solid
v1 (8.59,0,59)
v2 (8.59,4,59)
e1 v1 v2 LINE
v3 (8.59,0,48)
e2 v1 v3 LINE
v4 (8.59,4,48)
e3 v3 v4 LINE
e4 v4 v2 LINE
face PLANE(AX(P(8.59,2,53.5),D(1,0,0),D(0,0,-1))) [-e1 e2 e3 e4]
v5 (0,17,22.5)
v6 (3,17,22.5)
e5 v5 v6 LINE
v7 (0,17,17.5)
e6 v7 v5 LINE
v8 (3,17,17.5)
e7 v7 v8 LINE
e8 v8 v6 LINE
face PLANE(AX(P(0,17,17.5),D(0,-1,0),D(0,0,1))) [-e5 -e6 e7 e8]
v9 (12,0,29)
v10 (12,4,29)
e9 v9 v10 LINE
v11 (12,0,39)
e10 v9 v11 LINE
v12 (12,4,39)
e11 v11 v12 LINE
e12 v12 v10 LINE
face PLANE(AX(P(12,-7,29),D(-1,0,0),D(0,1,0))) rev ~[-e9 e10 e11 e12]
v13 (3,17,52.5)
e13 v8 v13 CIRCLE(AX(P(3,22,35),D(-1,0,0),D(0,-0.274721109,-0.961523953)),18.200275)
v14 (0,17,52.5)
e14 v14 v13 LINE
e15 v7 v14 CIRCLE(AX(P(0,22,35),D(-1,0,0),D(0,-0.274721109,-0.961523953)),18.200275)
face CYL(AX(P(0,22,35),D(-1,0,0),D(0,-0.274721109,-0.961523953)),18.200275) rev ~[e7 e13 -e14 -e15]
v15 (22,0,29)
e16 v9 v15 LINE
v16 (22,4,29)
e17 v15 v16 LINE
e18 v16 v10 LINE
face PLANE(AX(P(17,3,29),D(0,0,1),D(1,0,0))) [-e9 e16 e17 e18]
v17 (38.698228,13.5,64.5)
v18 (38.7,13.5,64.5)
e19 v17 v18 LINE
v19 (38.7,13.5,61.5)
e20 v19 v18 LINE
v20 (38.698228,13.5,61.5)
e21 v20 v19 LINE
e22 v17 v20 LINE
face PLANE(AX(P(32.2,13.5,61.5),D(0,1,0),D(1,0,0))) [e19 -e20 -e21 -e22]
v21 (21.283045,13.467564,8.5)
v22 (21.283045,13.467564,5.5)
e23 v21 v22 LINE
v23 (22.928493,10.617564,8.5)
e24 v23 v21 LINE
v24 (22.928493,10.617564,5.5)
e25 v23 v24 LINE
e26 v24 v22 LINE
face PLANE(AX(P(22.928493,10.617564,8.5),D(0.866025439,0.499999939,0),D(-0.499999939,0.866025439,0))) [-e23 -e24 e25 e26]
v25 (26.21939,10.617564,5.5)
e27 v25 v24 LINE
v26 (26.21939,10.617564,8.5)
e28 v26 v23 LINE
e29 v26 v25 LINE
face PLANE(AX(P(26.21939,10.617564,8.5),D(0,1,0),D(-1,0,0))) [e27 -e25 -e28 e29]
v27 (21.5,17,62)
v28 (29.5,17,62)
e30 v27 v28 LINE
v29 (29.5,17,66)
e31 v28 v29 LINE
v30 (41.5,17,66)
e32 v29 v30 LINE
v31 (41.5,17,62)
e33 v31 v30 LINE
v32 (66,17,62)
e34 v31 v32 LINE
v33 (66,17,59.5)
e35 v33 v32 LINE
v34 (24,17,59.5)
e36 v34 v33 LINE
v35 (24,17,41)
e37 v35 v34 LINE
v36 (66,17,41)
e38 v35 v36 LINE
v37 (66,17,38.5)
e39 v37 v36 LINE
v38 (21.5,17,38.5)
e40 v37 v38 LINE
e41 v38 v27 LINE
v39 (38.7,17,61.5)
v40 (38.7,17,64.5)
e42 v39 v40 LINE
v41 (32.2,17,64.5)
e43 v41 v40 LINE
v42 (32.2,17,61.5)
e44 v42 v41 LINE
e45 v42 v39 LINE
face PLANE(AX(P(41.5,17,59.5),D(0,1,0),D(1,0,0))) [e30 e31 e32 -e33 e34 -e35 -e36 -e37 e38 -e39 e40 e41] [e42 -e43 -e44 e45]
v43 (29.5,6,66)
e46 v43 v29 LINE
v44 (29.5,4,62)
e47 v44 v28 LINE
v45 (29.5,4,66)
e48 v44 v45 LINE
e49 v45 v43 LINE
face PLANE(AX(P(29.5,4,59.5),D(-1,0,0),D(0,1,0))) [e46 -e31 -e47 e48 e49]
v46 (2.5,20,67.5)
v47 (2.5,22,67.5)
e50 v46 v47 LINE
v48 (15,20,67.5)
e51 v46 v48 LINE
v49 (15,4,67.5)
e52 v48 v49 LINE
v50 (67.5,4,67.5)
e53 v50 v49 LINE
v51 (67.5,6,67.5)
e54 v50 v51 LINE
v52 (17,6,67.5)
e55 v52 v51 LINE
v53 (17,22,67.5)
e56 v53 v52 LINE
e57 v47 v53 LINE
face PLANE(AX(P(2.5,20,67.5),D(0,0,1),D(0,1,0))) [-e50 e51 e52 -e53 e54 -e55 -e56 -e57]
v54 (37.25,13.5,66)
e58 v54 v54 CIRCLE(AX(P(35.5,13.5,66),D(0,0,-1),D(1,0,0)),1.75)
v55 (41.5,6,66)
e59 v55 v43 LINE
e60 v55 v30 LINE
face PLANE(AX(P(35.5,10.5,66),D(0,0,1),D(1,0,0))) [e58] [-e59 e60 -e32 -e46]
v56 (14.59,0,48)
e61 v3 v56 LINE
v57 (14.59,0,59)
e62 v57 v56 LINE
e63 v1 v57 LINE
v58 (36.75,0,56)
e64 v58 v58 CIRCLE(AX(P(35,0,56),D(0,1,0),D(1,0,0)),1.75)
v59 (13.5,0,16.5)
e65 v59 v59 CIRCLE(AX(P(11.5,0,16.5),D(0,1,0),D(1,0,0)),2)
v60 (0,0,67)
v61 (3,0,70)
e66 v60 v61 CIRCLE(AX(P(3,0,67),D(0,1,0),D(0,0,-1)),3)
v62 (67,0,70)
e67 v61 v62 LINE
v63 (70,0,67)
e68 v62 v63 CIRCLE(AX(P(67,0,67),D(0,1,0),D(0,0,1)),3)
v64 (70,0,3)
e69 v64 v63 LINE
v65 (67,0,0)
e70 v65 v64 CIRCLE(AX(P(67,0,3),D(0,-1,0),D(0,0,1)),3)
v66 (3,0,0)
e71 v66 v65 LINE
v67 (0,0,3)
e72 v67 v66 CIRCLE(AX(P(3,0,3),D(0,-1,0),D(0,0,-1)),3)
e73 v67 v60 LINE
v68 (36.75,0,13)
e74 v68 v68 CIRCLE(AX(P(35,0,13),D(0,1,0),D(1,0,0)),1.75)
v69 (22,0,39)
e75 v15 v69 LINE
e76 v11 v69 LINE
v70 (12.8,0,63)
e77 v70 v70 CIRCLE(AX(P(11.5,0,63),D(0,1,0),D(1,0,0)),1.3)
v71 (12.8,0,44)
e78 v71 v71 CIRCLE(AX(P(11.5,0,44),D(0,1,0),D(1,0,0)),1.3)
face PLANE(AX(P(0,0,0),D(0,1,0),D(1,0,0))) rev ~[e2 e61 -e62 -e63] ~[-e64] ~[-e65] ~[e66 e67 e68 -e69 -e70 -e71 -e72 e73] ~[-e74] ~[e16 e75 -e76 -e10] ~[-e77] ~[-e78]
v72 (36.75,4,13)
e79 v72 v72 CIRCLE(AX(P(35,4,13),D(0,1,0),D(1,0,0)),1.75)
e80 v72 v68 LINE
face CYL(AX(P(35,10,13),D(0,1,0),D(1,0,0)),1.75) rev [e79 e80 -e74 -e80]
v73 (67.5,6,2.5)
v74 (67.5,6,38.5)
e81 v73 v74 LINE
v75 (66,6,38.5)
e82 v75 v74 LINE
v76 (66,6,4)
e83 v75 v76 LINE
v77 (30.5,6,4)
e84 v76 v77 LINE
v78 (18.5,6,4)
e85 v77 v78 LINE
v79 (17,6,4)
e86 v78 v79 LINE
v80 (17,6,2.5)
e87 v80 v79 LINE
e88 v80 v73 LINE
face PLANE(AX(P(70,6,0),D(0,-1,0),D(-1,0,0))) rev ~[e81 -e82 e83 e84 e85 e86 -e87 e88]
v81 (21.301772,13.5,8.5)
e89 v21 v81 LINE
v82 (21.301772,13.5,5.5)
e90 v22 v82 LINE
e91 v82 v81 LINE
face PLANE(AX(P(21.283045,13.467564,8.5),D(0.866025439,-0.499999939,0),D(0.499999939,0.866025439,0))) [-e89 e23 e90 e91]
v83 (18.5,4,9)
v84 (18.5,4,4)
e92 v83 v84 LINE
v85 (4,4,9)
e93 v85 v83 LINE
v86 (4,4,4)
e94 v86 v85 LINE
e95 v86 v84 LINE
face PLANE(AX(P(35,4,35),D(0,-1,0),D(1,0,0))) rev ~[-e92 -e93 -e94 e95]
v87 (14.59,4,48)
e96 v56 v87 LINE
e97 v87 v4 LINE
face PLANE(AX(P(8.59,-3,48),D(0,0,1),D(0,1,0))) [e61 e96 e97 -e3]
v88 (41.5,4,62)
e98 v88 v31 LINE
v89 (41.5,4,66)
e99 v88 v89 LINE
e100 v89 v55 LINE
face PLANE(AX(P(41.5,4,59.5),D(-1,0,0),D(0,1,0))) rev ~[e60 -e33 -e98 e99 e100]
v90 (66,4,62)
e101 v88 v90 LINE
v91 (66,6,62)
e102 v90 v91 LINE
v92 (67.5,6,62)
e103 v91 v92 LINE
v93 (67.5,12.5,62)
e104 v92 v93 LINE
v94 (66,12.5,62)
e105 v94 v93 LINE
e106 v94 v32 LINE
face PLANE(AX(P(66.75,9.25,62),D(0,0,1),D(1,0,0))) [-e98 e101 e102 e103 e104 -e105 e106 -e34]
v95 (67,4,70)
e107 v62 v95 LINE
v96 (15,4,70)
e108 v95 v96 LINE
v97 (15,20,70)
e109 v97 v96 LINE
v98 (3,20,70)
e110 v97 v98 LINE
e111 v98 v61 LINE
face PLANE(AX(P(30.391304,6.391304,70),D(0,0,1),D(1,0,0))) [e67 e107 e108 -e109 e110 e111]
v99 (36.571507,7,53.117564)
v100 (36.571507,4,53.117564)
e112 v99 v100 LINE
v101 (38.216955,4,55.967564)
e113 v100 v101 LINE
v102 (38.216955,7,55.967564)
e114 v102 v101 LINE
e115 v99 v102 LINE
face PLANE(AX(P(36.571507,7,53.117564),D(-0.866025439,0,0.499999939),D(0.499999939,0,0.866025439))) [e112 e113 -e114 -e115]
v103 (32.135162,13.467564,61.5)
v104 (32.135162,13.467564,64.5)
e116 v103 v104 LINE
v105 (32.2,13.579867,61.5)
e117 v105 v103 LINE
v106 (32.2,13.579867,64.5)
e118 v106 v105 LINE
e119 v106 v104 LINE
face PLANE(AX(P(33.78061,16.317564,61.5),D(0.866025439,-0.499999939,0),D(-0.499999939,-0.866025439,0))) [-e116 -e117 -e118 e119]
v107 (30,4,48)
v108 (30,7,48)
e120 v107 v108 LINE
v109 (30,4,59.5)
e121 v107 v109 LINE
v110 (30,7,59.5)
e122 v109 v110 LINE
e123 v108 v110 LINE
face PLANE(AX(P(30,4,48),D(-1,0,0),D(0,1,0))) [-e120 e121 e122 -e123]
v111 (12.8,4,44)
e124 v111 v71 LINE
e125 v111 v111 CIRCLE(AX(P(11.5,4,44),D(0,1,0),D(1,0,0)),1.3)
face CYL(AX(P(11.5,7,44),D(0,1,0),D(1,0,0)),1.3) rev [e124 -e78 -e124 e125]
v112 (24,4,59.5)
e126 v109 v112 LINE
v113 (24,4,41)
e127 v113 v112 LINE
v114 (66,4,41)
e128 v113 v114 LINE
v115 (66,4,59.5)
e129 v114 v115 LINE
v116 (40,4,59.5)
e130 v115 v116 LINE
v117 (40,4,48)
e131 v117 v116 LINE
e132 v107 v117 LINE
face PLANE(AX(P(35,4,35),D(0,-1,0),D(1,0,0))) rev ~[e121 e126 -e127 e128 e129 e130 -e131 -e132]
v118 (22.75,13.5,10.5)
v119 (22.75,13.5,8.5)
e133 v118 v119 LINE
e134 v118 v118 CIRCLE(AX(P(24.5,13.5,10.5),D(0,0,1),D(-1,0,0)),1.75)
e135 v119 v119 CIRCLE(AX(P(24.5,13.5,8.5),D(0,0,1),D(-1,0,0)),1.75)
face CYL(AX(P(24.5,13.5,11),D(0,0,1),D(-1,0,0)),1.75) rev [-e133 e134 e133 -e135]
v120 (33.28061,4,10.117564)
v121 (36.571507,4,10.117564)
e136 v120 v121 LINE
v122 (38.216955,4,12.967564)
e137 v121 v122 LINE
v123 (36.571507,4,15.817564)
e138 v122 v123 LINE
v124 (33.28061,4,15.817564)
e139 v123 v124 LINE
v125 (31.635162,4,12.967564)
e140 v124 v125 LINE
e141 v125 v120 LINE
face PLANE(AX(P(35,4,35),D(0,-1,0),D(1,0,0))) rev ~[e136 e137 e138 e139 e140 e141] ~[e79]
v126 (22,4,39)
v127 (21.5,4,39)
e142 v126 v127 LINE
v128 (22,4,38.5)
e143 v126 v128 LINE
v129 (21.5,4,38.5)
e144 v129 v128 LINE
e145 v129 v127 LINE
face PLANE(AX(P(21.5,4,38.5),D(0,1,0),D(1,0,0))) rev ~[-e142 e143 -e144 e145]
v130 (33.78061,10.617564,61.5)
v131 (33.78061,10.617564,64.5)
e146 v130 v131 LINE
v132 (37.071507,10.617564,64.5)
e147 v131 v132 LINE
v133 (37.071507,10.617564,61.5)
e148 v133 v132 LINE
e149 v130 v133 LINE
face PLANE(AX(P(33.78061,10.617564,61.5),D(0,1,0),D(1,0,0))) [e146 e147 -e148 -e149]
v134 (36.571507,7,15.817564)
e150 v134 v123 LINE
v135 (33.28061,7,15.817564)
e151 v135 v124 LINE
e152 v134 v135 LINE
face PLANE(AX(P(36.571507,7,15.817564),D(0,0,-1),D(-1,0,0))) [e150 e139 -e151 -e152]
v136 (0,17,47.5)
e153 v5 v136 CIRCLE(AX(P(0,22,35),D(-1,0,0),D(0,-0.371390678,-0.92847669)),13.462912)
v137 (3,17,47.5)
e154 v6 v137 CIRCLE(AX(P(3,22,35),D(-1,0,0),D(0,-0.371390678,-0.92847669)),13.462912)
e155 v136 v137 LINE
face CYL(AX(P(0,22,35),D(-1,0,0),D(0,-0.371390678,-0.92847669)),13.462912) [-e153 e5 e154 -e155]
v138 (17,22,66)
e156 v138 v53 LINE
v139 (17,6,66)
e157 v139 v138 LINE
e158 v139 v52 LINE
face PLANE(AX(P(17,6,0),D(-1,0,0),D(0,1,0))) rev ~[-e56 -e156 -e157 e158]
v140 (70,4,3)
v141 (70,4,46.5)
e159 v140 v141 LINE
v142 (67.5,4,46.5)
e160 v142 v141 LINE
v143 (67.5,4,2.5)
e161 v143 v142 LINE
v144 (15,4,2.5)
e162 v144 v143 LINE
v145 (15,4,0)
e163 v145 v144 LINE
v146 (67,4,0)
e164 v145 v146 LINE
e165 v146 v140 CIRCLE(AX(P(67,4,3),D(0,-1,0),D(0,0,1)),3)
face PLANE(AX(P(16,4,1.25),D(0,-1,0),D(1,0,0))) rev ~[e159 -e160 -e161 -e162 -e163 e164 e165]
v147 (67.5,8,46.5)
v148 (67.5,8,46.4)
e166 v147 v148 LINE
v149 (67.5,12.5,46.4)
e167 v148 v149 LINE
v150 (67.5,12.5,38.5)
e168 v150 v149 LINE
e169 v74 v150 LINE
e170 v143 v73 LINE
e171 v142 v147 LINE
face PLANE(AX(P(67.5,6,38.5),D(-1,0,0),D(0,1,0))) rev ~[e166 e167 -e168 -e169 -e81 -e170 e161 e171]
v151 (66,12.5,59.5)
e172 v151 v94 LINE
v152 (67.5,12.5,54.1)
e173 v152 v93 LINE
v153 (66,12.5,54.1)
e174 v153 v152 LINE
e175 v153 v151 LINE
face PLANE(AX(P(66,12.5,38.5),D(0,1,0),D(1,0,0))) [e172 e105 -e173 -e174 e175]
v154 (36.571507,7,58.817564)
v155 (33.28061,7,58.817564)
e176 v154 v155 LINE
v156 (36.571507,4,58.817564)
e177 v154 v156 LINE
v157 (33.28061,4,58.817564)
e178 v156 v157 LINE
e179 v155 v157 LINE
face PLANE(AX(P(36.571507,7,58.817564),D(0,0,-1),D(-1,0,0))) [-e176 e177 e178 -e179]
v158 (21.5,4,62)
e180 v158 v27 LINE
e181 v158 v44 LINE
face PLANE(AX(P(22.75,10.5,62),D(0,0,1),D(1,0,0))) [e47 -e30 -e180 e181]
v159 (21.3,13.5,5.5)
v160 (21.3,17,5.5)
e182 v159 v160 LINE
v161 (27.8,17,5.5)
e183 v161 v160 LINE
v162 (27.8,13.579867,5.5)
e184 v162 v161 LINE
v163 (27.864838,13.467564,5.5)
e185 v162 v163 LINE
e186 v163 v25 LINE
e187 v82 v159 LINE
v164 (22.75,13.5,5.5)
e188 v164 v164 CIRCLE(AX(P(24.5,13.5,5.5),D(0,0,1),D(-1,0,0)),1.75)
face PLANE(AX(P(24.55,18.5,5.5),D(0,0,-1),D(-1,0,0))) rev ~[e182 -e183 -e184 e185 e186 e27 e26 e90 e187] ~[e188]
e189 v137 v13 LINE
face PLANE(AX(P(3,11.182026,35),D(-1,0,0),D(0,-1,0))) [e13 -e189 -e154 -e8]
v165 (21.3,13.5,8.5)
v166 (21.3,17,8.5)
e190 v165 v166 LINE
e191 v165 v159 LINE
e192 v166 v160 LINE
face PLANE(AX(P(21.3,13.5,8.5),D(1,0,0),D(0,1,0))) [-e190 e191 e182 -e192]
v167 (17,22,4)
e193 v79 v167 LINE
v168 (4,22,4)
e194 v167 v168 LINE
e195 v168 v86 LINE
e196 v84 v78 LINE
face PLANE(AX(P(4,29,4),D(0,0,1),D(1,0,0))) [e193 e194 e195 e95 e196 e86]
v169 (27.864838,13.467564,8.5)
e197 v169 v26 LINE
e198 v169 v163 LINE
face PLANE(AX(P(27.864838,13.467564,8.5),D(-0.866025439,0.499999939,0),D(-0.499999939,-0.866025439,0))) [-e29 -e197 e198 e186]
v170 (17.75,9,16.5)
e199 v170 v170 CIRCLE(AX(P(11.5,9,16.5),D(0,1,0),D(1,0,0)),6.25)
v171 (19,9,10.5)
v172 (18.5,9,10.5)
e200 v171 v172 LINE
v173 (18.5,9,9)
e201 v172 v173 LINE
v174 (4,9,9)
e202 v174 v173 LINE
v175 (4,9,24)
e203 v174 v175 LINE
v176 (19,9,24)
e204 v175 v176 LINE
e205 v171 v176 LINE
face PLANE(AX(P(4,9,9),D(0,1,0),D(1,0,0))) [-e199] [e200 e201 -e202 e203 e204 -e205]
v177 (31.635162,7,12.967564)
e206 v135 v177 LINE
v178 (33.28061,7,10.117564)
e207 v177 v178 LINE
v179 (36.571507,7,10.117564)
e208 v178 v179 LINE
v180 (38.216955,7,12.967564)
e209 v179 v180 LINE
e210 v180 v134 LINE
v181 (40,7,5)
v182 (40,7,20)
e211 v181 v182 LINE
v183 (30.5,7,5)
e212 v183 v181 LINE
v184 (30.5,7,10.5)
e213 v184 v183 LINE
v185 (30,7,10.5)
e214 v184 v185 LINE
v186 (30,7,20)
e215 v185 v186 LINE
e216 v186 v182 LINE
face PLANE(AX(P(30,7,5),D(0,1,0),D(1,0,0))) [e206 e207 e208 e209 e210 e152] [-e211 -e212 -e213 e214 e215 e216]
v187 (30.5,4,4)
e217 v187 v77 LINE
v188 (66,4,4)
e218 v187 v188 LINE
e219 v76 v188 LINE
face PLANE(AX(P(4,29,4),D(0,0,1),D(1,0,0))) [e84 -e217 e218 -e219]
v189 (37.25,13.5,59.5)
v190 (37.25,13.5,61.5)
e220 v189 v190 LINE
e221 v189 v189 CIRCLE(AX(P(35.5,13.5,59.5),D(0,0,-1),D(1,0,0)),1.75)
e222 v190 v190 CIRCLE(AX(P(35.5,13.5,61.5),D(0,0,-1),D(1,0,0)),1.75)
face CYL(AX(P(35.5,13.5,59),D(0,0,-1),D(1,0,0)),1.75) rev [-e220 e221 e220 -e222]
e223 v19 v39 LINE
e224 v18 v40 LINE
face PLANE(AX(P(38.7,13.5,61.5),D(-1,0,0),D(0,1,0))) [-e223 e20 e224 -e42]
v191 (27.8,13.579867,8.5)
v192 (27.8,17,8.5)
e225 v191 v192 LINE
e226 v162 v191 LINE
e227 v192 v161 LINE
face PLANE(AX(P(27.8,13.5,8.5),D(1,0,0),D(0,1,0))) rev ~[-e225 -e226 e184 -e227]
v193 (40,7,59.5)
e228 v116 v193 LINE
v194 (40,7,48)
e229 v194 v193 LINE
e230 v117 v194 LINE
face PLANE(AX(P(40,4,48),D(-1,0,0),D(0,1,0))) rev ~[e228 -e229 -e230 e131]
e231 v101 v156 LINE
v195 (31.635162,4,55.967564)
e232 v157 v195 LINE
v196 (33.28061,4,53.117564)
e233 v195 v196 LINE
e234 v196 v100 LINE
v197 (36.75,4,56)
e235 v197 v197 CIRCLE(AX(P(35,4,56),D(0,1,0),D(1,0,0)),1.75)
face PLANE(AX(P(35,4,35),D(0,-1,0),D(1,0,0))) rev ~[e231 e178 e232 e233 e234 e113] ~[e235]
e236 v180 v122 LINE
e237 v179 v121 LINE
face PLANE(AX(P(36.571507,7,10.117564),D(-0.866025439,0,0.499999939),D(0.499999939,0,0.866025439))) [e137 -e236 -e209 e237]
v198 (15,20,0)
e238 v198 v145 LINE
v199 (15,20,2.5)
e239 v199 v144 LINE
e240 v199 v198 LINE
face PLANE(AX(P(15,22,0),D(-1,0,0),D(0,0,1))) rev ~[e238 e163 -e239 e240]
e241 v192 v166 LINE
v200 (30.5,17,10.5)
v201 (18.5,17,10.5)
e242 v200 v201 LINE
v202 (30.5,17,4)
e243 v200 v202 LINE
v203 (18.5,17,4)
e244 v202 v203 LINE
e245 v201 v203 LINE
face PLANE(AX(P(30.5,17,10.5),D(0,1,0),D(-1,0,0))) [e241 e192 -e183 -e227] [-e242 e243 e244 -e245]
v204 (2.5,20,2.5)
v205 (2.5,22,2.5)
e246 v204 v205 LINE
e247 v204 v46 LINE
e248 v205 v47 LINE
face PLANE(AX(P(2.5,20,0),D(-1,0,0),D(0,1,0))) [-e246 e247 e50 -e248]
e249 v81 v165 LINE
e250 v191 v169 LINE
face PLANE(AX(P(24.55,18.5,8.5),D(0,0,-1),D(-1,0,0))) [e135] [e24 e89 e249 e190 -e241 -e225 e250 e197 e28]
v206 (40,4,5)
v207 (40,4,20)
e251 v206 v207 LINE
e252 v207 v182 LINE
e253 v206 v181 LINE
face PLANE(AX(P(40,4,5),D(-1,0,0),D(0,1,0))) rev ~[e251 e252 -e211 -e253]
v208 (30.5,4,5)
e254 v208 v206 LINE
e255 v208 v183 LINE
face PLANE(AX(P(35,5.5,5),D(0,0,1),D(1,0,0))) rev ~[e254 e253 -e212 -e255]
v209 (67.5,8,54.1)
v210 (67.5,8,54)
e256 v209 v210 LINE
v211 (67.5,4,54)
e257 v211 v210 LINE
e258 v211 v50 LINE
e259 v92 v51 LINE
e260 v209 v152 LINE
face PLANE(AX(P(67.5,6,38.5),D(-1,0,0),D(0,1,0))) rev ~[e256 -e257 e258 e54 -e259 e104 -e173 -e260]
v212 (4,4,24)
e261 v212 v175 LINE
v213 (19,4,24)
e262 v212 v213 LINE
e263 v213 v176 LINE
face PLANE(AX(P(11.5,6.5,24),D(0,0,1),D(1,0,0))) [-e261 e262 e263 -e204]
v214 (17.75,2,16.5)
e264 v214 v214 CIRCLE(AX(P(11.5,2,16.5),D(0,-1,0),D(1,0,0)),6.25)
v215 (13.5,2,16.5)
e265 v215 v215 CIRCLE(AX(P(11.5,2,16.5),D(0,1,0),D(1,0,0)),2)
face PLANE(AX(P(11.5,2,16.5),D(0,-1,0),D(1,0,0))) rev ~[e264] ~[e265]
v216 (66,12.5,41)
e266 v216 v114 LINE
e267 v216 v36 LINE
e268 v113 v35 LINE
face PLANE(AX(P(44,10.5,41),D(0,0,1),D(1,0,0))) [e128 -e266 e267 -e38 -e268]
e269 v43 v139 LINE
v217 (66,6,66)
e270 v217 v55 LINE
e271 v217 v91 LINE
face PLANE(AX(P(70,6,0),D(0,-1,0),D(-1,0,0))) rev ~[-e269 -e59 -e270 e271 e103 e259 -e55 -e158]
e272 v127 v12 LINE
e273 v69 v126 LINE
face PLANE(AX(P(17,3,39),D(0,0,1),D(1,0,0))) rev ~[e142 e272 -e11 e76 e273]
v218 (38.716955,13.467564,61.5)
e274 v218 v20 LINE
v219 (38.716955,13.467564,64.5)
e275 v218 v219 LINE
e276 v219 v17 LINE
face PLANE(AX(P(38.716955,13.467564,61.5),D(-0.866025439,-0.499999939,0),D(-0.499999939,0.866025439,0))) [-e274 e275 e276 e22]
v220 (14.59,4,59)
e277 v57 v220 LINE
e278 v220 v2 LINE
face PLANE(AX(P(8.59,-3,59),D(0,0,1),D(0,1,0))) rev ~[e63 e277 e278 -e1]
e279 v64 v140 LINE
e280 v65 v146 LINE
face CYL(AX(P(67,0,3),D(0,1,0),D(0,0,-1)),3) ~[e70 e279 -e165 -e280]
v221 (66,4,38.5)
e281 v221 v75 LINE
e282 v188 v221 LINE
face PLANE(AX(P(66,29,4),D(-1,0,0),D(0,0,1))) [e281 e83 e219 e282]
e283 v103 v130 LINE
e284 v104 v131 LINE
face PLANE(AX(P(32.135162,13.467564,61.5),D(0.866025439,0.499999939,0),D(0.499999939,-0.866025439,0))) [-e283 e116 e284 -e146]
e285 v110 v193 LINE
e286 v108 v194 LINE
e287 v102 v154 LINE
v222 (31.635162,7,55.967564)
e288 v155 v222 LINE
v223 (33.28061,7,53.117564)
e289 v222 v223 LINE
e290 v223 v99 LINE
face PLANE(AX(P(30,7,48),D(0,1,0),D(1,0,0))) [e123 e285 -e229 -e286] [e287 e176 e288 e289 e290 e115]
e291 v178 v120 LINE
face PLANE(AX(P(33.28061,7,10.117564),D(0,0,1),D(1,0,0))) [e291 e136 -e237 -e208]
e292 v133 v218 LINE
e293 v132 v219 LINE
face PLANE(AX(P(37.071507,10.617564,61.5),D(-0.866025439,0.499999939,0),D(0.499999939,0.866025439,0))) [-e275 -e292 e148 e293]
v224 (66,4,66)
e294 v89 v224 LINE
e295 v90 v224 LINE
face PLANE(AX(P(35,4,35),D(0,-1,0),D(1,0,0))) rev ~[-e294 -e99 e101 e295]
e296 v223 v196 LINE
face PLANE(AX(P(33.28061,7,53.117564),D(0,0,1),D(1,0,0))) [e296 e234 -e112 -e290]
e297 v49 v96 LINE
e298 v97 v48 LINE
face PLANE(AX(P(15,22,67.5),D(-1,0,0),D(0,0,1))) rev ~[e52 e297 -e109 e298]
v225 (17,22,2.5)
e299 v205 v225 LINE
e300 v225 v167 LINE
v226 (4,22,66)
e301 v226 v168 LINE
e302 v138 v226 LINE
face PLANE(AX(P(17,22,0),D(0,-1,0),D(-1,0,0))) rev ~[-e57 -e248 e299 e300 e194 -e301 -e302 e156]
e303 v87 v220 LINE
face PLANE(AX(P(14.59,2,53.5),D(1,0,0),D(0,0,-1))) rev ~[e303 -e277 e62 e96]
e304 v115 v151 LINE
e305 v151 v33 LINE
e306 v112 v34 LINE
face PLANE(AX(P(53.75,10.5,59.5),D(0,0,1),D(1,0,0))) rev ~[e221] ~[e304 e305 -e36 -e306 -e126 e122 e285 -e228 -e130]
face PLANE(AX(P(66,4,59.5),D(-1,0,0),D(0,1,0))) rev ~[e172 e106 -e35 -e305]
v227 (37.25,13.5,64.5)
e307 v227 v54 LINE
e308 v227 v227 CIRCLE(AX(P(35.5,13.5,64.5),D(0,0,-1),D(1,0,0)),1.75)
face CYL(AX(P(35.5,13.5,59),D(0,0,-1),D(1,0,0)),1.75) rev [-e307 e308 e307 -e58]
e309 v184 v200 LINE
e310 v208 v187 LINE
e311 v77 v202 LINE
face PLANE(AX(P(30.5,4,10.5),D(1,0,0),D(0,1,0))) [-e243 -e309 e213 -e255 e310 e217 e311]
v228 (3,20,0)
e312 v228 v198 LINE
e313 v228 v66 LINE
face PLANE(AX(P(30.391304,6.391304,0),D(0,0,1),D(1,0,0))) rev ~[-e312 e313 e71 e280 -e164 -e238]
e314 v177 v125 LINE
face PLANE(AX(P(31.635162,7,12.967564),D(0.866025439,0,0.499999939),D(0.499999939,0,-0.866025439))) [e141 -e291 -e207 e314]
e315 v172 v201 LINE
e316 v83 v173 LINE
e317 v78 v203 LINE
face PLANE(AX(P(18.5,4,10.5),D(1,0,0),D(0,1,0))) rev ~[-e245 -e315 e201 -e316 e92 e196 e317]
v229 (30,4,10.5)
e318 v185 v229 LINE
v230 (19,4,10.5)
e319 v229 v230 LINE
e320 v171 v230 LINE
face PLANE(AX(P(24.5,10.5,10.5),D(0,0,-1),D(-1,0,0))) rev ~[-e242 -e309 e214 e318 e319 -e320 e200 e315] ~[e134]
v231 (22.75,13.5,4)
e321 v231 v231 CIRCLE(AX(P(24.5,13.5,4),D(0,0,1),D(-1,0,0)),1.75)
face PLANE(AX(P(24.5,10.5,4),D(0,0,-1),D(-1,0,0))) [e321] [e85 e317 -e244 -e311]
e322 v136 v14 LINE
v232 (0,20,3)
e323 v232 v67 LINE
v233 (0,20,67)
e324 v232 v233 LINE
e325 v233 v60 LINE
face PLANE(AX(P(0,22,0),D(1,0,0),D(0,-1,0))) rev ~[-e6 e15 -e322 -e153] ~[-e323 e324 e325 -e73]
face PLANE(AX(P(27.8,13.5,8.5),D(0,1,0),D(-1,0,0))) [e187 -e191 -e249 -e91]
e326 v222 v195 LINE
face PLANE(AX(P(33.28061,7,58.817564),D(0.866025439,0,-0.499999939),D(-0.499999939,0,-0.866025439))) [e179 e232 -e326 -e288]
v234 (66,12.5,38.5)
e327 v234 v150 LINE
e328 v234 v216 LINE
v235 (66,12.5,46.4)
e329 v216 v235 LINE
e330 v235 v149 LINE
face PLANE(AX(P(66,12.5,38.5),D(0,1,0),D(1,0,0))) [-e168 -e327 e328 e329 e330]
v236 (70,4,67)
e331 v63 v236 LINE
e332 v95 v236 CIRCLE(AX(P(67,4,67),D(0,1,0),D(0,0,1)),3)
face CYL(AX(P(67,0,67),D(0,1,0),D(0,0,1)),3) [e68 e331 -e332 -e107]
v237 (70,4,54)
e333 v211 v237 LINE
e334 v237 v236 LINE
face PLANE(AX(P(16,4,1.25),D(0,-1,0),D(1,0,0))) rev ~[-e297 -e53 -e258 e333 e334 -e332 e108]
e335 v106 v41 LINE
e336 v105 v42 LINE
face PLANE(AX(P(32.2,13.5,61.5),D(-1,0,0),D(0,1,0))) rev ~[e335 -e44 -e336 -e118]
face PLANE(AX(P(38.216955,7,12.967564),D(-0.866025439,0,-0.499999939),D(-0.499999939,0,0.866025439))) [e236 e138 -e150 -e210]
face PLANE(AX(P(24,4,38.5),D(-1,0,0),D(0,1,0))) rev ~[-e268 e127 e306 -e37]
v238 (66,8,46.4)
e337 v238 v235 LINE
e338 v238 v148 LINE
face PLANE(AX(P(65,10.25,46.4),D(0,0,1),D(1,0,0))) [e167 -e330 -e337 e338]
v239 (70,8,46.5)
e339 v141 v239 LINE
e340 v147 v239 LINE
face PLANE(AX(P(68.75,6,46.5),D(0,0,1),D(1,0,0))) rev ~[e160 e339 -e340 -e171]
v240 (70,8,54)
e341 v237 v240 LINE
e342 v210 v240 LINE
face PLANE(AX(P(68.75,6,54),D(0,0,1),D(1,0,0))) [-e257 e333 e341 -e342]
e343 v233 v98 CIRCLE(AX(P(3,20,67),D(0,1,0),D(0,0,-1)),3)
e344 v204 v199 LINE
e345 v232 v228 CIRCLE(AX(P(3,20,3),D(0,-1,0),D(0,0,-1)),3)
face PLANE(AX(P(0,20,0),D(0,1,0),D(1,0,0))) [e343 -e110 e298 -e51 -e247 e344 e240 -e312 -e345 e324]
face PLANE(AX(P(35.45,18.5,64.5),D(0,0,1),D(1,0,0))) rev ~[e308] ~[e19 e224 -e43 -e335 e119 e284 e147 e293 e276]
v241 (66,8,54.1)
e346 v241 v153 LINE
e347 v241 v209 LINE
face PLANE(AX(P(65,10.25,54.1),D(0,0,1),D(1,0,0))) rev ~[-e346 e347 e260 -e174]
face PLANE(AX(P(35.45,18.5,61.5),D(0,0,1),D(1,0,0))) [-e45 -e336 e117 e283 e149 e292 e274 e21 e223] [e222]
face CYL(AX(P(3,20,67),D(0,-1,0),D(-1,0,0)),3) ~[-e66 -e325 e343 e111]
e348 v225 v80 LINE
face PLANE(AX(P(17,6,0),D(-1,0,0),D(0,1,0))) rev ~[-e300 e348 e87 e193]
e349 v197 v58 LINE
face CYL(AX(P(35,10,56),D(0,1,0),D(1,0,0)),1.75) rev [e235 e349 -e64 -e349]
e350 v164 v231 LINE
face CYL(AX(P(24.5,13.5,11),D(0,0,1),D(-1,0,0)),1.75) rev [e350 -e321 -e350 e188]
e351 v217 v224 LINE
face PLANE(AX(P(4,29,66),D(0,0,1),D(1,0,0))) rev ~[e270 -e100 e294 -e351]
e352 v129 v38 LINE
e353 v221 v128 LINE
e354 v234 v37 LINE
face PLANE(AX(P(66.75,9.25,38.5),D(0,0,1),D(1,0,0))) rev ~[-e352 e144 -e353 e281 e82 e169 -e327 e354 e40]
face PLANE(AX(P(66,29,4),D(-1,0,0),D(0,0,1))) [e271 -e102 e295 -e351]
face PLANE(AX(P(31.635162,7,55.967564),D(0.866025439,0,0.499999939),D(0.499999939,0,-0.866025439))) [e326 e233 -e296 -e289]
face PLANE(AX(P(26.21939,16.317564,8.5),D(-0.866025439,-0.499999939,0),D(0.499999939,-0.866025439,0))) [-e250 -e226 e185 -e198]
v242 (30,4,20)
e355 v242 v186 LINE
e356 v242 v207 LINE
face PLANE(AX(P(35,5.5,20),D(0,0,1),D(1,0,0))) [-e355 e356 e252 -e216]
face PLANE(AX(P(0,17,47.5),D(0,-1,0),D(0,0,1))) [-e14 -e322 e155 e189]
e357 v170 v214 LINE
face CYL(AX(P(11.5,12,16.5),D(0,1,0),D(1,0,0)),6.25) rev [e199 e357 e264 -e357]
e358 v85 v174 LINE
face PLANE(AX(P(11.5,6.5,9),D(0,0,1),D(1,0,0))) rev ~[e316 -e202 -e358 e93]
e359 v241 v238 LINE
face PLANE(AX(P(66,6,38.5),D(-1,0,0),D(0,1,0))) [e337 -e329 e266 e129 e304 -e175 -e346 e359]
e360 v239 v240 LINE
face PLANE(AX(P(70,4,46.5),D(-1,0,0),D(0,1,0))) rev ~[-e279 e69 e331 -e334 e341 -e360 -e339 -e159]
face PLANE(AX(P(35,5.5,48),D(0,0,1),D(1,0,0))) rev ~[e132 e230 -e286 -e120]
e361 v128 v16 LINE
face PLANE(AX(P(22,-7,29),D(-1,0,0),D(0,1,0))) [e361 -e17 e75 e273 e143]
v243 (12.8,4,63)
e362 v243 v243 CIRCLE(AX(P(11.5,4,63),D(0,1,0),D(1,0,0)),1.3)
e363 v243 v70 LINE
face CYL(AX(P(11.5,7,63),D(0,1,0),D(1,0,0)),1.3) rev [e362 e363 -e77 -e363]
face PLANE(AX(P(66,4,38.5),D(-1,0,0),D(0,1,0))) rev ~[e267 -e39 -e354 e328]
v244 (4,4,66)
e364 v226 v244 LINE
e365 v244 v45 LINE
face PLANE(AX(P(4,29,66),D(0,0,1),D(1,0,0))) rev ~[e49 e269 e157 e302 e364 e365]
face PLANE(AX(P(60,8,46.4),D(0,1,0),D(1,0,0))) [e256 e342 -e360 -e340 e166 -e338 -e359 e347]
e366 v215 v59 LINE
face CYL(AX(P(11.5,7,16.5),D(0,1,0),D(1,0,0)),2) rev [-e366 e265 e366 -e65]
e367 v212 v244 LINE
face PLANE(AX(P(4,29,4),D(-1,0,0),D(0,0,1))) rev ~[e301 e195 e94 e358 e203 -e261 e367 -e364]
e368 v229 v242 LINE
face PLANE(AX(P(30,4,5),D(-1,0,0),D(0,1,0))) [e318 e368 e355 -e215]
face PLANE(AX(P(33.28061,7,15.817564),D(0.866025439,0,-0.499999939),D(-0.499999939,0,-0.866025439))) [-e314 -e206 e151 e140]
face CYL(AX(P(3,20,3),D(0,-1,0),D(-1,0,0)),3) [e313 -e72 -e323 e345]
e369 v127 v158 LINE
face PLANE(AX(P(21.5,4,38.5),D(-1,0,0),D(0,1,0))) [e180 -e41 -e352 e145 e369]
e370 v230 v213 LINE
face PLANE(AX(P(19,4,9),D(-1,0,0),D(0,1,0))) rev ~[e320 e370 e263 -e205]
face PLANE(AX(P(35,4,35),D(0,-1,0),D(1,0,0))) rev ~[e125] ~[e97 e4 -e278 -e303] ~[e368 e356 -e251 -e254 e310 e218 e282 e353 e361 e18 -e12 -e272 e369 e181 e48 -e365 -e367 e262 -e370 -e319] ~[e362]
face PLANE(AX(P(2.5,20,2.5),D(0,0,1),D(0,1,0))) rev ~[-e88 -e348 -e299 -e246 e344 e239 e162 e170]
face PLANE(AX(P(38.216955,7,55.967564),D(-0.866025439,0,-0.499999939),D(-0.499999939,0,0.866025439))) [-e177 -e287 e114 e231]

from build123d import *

# Parameters (mm, degrees)
BOX071_W               = 10
BOX071_H               = 4.5
BOX071_DEPTH           = 7.7
BOX070_W               = 1.5
BOX070_H               = 6.5
BOX070_DEPTH           = 23.5
BOX072_W               = 2.5
BOX072_H               = 4
BOX072_DEPTH           = 7.5
CYLINDER040_R          = 1.3
CYLINDER040_DEPTH      = 10
CYLINDER040_ROLL_ANGLE = 90
CYLINDER039_R          = 1.3
CYLINDER039_DEPTH      = 10
CYLINDER039_ROLL_ANGLE = 90
BOX068_W               = 11
BOX068_H               = 10
BOX068_DEPTH           = 6
BOX068_PITCH_ANGLE     = 90
CYLINDER037_R          = 6.25
CYLINDER037_DEPTH      = 10
CYLINDER037_ROLL_ANGLE = 90
CYLINDER038_R          = 2
CYLINDER038_DEPTH      = 10
CYLINDER038_ROLL_ANGLE = 90
BOX059_W               = 2.5
BOX059_H               = 13
BOX059_DEPTH           = 23.5
BOX060_W               = 44
BOX060_H               = 13
BOX060_DEPTH           = 2.5
BOX061_W               = 7.5
BOX061_H               = 13
BOX061_DEPTH           = 2.5
BOX062_W               = 24.5
BOX062_H               = 13
BOX062_DEPTH           = 2.5
BOX056_W               = 10
BOX056_H               = 20
BOX056_DEPTH           = 10
CYLINDER032_R          = 1.75
CYLINDER032_DEPTH      = 10
BOX055_W               = 6.5
BOX055_H               = 10
BOX055_DEPTH           = 3
PAD011_DEPTH           = 3
BOX053_W               = 12
BOX053_H               = 13
BOX053_DEPTH           = 6.5
CUT068_PLACEMENT_ANGLE = 180
CYLINDER019_R          = 1.75
CYLINDER019_DEPTH      = 20
CYLINDER019_ROLL_ANGLE = 90
CYLINDER020_R          = 1.75
CYLINDER020_DEPTH      = 20
CYLINDER020_ROLL_ANGLE = 90
BOX019_W               = 2.5
BOX019_H               = 2
BOX019_DEPTH           = 12.5
BOX019_PITCH_ANGLE     = 90
BOX018_W               = 2
BOX018_H               = 2.5
BOX018_DEPTH           = 18
BOX018_ROLL_ANGLE      = 90
BOX017_W               = 2.5
BOX017_H               = 2
BOX017_DEPTH           = 50.5
BOX017_PITCH_ANGLE     = 90
BOX016_W               = 2.5
BOX016_H               = 2
BOX016_DEPTH           = 12.5
BOX016_PITCH_ANGLE     = 90
BOX015_W               = 2
BOX015_H               = 2.5
BOX015_DEPTH           = 18
BOX015_ROLL_ANGLE      = 90
BOX014_W               = 2.5
BOX014_H               = 2
BOX014_DEPTH           = 50.5
BOX014_PITCH_ANGLE     = 90
BOX013_W               = 2.5
BOX013_H               = 2
BOX013_DEPTH           = 70
BOX012_W               = 2.5
BOX012_H               = 2
BOX012_DEPTH           = 70
BOX011_W               = 62
BOX011_H               = 62
BOX011_DEPTH           = 25
BOX011_ROLL_ANGLE      = 90
PAD004_DEPTH           = 70
POCKET002003_DEPTH     = 3
FILLET001_R            = 3
PAD007_DEPTH           = 3
BOX039_W               = 10
BOX039_H               = 3
BOX039_DEPTH           = 15
BOX067_W               = 15
BOX067_H               = 5
BOX067_DEPTH           = 15


with BuildPart() as cube070:
    # Box071 → Box071 (new body)
    with BuildSketch(Plane(origin=(60, 8, 46.4), x_dir=(1, 0, 0), z_dir=(0, 0, 1))):
        with Locations((5, 2.25)):
            Rectangle(BOX071_W, BOX071_H)
    extrude(amount=BOX071_DEPTH)


with BuildPart() as cut084:
    # Box070 → Box070 (new body)
    with BuildSketch(Plane(origin=(66, 6, 38.5), x_dir=(1, 0, 0), z_dir=(0, 0, 1))):
        with Locations((0.75, 3.25)):
            Rectangle(BOX070_W, BOX070_H)
    extrude(amount=BOX070_DEPTH)

    # Cut084: cut Cube070
    add(cube070.part, mode=Mode.SUBTRACT)


with BuildPart() as cube071:
    # Box072 → Box072 (new body)
    with BuildSketch(Plane(origin=(67.5, 4, 46.5), x_dir=(1, 0, 0), z_dir=(0, 0, 1))):
        with Locations((1.25, 2)):
            Rectangle(BOX072_W, BOX072_H)
    extrude(amount=BOX072_DEPTH)


with BuildPart() as cylinder072:
    # Cylinder040 → Cylinder040 (new body)
    with BuildSketch(Plane.XY):
        Circle(CYLINDER040_R)
    extrude(amount=CYLINDER040_DEPTH)


with BuildPart() as cylinder072_1:
    # Cylinder040 roll: moved
    add(cylinder072.part.rotate(Axis((0, 0, 0), (1, 0, 0)), CYLINDER040_ROLL_ANGLE))


with BuildPart() as cylinder072_2:
    # Cylinder040 placement: moved
    add(cylinder072_1.part.moved(Location((11.5, 7, 44))))


with BuildPart() as cylinder071:
    # Cylinder039 → Cylinder039 (new body)
    with BuildSketch(Plane.XY):
        Circle(CYLINDER039_R)
    extrude(amount=CYLINDER039_DEPTH)


with BuildPart() as cylinder071_1:
    # Cylinder039 roll: moved
    add(cylinder071.part.rotate(Axis((0, 0, 0), (1, 0, 0)), CYLINDER039_ROLL_ANGLE))


with BuildPart() as cylinder071_2:
    # Cylinder039 placement: moved
    add(cylinder071_1.part.moved(Location((11.5, 7, 63))))


with BuildPart() as cube067:
    # Box068 → Box068 (new body)
    with BuildSketch(Plane.XY):
        with Locations((5.5, 5)):
            Rectangle(BOX068_W, BOX068_H)
    extrude(amount=BOX068_DEPTH)


with BuildPart() as cube067_1:
    # Box068 pitch: moved
    add(cube067.part.rotate(Axis((0, 0, 0), (0, 1, 0)), BOX068_PITCH_ANGLE))


with BuildPart() as cube067_2:
    # Box068 placement: moved
    add(cube067_1.part.moved(Location((8.59, -3, 59))))


with BuildPart() as cylinder069:
    # Cylinder037 → Cylinder037 (new body)
    with BuildSketch(Plane.XY):
        Circle(CYLINDER037_R)
    extrude(amount=CYLINDER037_DEPTH)


with BuildPart() as cylinder069_1:
    # Cylinder037 roll: moved
    add(cylinder069.part.rotate(Axis((0, 0, 0), (1, 0, 0)), CYLINDER037_ROLL_ANGLE))


with BuildPart() as cylinder069_2:
    # Cylinder037 placement: moved
    add(cylinder069_1.part.moved(Location((11.5, 12, 16.5))))


with BuildPart() as cylinder070:
    # Cylinder038 → Cylinder038 (new body)
    with BuildSketch(Plane.XY):
        Circle(CYLINDER038_R)
    extrude(amount=CYLINDER038_DEPTH)


with BuildPart() as cylinder070_1:
    # Cylinder038 roll: moved
    add(cylinder070.part.rotate(Axis((0, 0, 0), (1, 0, 0)), CYLINDER038_ROLL_ANGLE))


with BuildPart() as cylinder070_2:
    # Cylinder038 placement: moved
    add(cylinder070_1.part.moved(Location((11.5, 7, 16.5))))


with BuildPart() as cube058:
    # Box059 → Box059 (new body)
    with BuildSketch(Plane(origin=(21.5, 4, 38.5), x_dir=(1, 0, 0), z_dir=(0, 0, 1))):
        with Locations((1.25, 6.5)):
            Rectangle(BOX059_W, BOX059_H)
    extrude(amount=BOX059_DEPTH)


with BuildPart() as cube059:
    # Box060 → Box060 (new body)
    with BuildSketch(Plane(origin=(22, 4, 38.5), x_dir=(1, 0, 0), z_dir=(0, 0, 1))):
        with Locations((22, 6.5)):
            Rectangle(BOX060_W, BOX060_H)
    extrude(amount=BOX060_DEPTH)


with BuildPart() as cube060:
    # Box061 → Box061 (new body)
    with BuildSketch(Plane(origin=(22, 4, 59.5), x_dir=(1, 0, 0), z_dir=(0, 0, 1))):
        with Locations((3.75, 6.5)):
            Rectangle(BOX061_W, BOX061_H)
    extrude(amount=BOX061_DEPTH)


with BuildPart() as cube061:
    # Box062 → Box062 (new body)
    with BuildSketch(Plane(origin=(41.5, 4, 59.5), x_dir=(1, 0, 0), z_dir=(0, 0, 1))):
        with Locations((12.25, 6.5)):
            Rectangle(BOX062_W, BOX062_H)
    extrude(amount=BOX062_DEPTH)


with BuildPart() as cube055:
    # Box056 → Box056 (new body)
    with BuildSketch(Plane(origin=(12, -7, 29), x_dir=(1, 0, 0), z_dir=(0, 0, 1))):
        with Locations((5, 10)):
            Rectangle(BOX056_W, BOX056_H)
    extrude(amount=BOX056_DEPTH)


with BuildPart() as cylinder064:
    # Cylinder032 → Cylinder032 (new body)
    with BuildSketch(Plane(origin=(35.5, 13.5, 59), x_dir=(1, 0, 0), z_dir=(0, 0, 1))):
        Circle(CYLINDER032_R)
    extrude(amount=CYLINDER032_DEPTH)


with BuildPart() as cube054:
    # Box055 → Box055 (new body)
    with BuildSketch(Plane(origin=(32.2, 13.5, 61.5), x_dir=(1, 0, 0), z_dir=(0, 0, 1))):
        with Locations((3.25, 5)):
            Rectangle(BOX055_W, BOX055_H)
    extrude(amount=BOX055_DEPTH)


with BuildPart() as pad011:
    # Sketch017 → Pad011 (new body)
    with BuildSketch(Plane(origin=(-5.5, 2, 61.5), x_dir=(1, 0, 0), z_dir=(0, 0, 1))):
        Polygon((42.571507, 14.317564), (39.28061, 14.317564), (37.635162, 11.467564), (39.28061, 8.617564), (42.571507, 8.617564), (44.216955, 11.467564), align=None)
    extrude(amount=PAD011_DEPTH)


with BuildPart() as cut067:
    # Box053 → Box053 (new body)
    with BuildSketch(Plane(origin=(29.5, 4, 59.5), x_dir=(1, 0, 0), z_dir=(0, 0, 1))):
        with Locations((6, 6.5)):
            Rectangle(BOX053_W, BOX053_H)
    extrude(amount=BOX053_DEPTH)

    # Cut066: cut Pad011
    add(pad011.part, mode=Mode.SUBTRACT)

    # Cut067: cut Cube054
    add(cube054.part, mode=Mode.SUBTRACT)


with BuildPart() as cut068:
    # Cut068 base: copy of Cut067
    add(cut067.part)

    # Cut068: cut Cylinder064
    add(cylinder064.part, mode=Mode.SUBTRACT)


with BuildPart() as cut068_1:
    # Cut068 placement: moved
    add(cut068.part.moved(Location((60, 0, 70))).rotate(Axis((60, 0, 70), (0, 1, 0)), CUT068_PLACEMENT_ANGLE))


with BuildPart() as cut069:
    # Cut069 base: copy of Cut067
    add(cut067.part)

    # Cut069: cut Cylinder064
    add(cylinder064.part, mode=Mode.SUBTRACT)


with BuildPart() as cylinder054:
    # Cylinder019 → Cylinder019 (new body)
    with BuildSketch(Plane.XY):
        Circle(CYLINDER019_R)
    extrude(amount=CYLINDER019_DEPTH)


with BuildPart() as cylinder054_1:
    # Cylinder019 roll: moved
    add(cylinder054.part.rotate(Axis((0, 0, 0), (1, 0, 0)), CYLINDER019_ROLL_ANGLE))


with BuildPart() as cylinder054_2:
    # Cylinder019 placement: moved
    add(cylinder054_1.part.moved(Location((35, 10, 56))))


with BuildPart() as cylinder055:
    # Cylinder020 → Cylinder020 (new body)
    with BuildSketch(Plane.XY):
        Circle(CYLINDER020_R)
    extrude(amount=CYLINDER020_DEPTH)


with BuildPart() as cylinder055_1:
    # Cylinder020 roll: moved
    add(cylinder055.part.rotate(Axis((0, 0, 0), (1, 0, 0)), CYLINDER020_ROLL_ANGLE))


with BuildPart() as cylinder055_2:
    # Cylinder020 placement: moved
    add(cylinder055_1.part.moved(Location((35, 10, 13))))


with BuildPart() as cube019:
    # Box019 → Box019 (new body)
    with BuildSketch(Plane.XY):
        with Locations((1.25, 1)):
            Rectangle(BOX019_W, BOX019_H)
    extrude(amount=BOX019_DEPTH)


with BuildPart() as cube019_1:
    # Box019 pitch: moved
    add(cube019.part.rotate(Axis((0, 0, 0), (0, 1, 0)), BOX019_PITCH_ANGLE))


with BuildPart() as cube019_2:
    # Box019 placement: moved
    add(cube019_1.part.moved(Location((2.5, 20, 2.5))))


with BuildPart() as cube018:
    # Box018 → Box018 (new body)
    with BuildSketch(Plane.XY):
        with Locations((1, 1.25)):
            Rectangle(BOX018_W, BOX018_H)
    extrude(amount=BOX018_DEPTH)


with BuildPart() as cube018_1:
    # Box018 roll: moved
    add(cube018.part.rotate(Axis((0, 0, 0), (1, 0, 0)), BOX018_ROLL_ANGLE))


with BuildPart() as cube018_2:
    # Box018 placement: moved
    add(cube018_1.part.moved(Location((15, 22, 0))))


with BuildPart() as cube017:
    # Box017 → Box017 (new body)
    with BuildSketch(Plane.XY):
        with Locations((1.25, 1)):
            Rectangle(BOX017_W, BOX017_H)
    extrude(amount=BOX017_DEPTH)


with BuildPart() as cube017_1:
    # Box017 pitch: moved
    add(cube017.part.rotate(Axis((0, 0, 0), (0, 1, 0)), BOX017_PITCH_ANGLE))


with BuildPart() as cube017_2:
    # Box017 placement: moved
    add(cube017_1.part.moved(Location((17, 4, 2.5))))


with BuildPart() as cube016:
    # Box016 → Box016 (new body)
    with BuildSketch(Plane.XY):
        with Locations((1.25, 1)):
            Rectangle(BOX016_W, BOX016_H)
    extrude(amount=BOX016_DEPTH)


with BuildPart() as cube016_1:
    # Box016 pitch: moved
    add(cube016.part.rotate(Axis((0, 0, 0), (0, 1, 0)), BOX016_PITCH_ANGLE))


with BuildPart() as cube016_2:
    # Box016 placement: moved
    add(cube016_1.part.moved(Location((2.5, 20, 70))))


with BuildPart() as cube015:
    # Box015 → Box015 (new body)
    with BuildSketch(Plane.XY):
        with Locations((1, 1.25)):
            Rectangle(BOX015_W, BOX015_H)
    extrude(amount=BOX015_DEPTH)


with BuildPart() as cube015_1:
    # Box015 roll: moved
    add(cube015.part.rotate(Axis((0, 0, 0), (1, 0, 0)), BOX015_ROLL_ANGLE))


with BuildPart() as cube015_2:
    # Box015 placement: moved
    add(cube015_1.part.moved(Location((15, 22, 67.5))))


with BuildPart() as cube014:
    # Box014 → Box014 (new body)
    with BuildSketch(Plane.XY):
        with Locations((1.25, 1)):
            Rectangle(BOX014_W, BOX014_H)
    extrude(amount=BOX014_DEPTH)


with BuildPart() as cube014_1:
    # Box014 pitch: moved
    add(cube014.part.rotate(Axis((0, 0, 0), (0, 1, 0)), BOX014_PITCH_ANGLE))


with BuildPart() as cube014_2:
    # Box014 placement: moved
    add(cube014_1.part.moved(Location((17, 4, 70))))


with BuildPart() as cube013:
    # Box013 → Box013 (new body)
    with BuildSketch(Plane(origin=(67.5, 4, 0), x_dir=(1, 0, 0), z_dir=(0, 0, 1))):
        with Locations((1.25, 1)):
            Rectangle(BOX013_W, BOX013_H)
    extrude(amount=BOX013_DEPTH)


with BuildPart() as cube012:
    # Box012 → Box012 (new body)
    with BuildSketch(Plane(origin=(0, 20, 0), x_dir=(1, 0, 0), z_dir=(0, 0, 1))):
        with Locations((1.25, 1)):
            Rectangle(BOX012_W, BOX012_H)
    extrude(amount=BOX012_DEPTH)


with BuildPart() as cube011:
    # Box011 → Box011 (new body)
    with BuildSketch(Plane.XY):
        with Locations((31, 31)):
            Rectangle(BOX011_W, BOX011_H)
    extrude(amount=BOX011_DEPTH)


with BuildPart() as cube011_1:
    # Box011 roll: moved
    add(cube011.part.rotate(Axis((0, 0, 0), (1, 0, 0)), BOX011_ROLL_ANGLE))


with BuildPart() as cube011_2:
    # Box011 placement: moved
    add(cube011_1.part.moved(Location((4, 29, 4))))


with BuildPart() as fillet001:
    # Sketch007 → Pad004 (new body)
    with BuildSketch(Plane.XY):
        Polygon((0, 22), (0, 0), (70, 0), (70, 6), (17, 6), (17, 22), align=None)
    extrude(amount=PAD004_DEPTH)

    # Cut015: cut Cube011
    add(cube011_2.part, mode=Mode.SUBTRACT)

    # Cut016: cut Cube012
    add(cube012.part, mode=Mode.SUBTRACT)

    # Cut017: cut Cube013
    add(cube013.part, mode=Mode.SUBTRACT)

    # Cut018: cut Cube014
    add(cube014_2.part, mode=Mode.SUBTRACT)

    # Cut019: cut Cube015
    add(cube015_2.part, mode=Mode.SUBTRACT)

    # Cut020: cut Cube016
    add(cube016_2.part, mode=Mode.SUBTRACT)

    # Cut021: cut Cube017
    add(cube017_2.part, mode=Mode.SUBTRACT)

    # Cut022: cut Cube018
    add(cube018_2.part, mode=Mode.SUBTRACT)

    # Cut023: cut Cube019
    add(cube019_2.part, mode=Mode.SUBTRACT)

    # Sketch008 → Pocket002003 (cut)
    with BuildSketch(Plane(origin=(0, 0, 0), x_dir=(0, -1, 0), z_dir=(-1, 0, 0))):
        with BuildLine():
            ThreePointArc((-17, 17.5), (-3.799725, 35), (-17, 52.5))
            Line((-17, 47.5), (-17, 52.5))
            ThreePointArc((-17, 22.5), (-8.537088, 35), (-17, 47.5))
            Line((-17, 17.5), (-17, 22.5))
        make_face()
    extrude(amount=-POCKET002003_DEPTH, mode=Mode.SUBTRACT)

    # Fillet001
    fillet001_edges = [fillet001.edges().sort_by_distance(p)[0] for p in [
        (0, 10, 0),
        (0, 10, 70),
        (70, 2, 0),
        (70, 2, 70),
    ]]
    fillet(fillet001_edges, radius=FILLET001_R)


with BuildPart() as pad007:
    # Sketch013 → Pad007 (new body)
    with BuildSketch(Plane(origin=(-6, 7, 1.5), x_dir=(1, 0, 0), z_dir=(0, -1, 0))):
        Polygon((42.571507, 14.317564), (39.28061, 14.317564), (37.635162, 11.467564), (39.28061, 8.617564), (42.571507, 8.617564), (44.216955, 11.467564), align=None)
    extrude(amount=PAD007_DEPTH)


with BuildPart() as cube038:
    # Box039 → Box039 (new body)
    with BuildSketch(Plane(origin=(30, 4, 5), x_dir=(1, 0, 0), z_dir=(0, 0, 1))):
        with Locations((5, 1.5)):
            Rectangle(BOX039_W, BOX039_H)
    extrude(amount=BOX039_DEPTH)


with BuildPart() as cut054:
    # Cut054 base: copy of Cube038
    add(cube038.part)

    # Cut054: cut Pad007
    add(pad007.part, mode=Mode.SUBTRACT)


with BuildPart() as cut079:
    # Cut053 base: copy of Cube038
    add(cube038.part)

    # Cut053: cut Pad007
    add(pad007.part, mode=Mode.SUBTRACT)


with BuildPart() as cut079_1:
    # Cut053 placement: moved
    add(cut079.part.moved(Location((0, 0, 43))))

    # Fusion008: union Fillet001, Cut054
    add(fillet001.part)
    add(cut054.part)

    # Cut055: cut Cylinder055
    add(cylinder055_2.part, mode=Mode.SUBTRACT)

    # Cut056: cut Cylinder054
    add(cylinder054_2.part, mode=Mode.SUBTRACT)

    # Fusion016: union Cut068, Cut069
    add(cut068_1.part)
    add(cut069.part)

    # Cut074: cut Cube055
    add(cube055.part, mode=Mode.SUBTRACT)

    # Fusion018: union Cube058, Cube059, Cube060, Cube061
    add(cube058.part)
    add(cube059.part)
    add(cube060.part)
    add(cube061.part)

    # Cut079: cut Cylinder070
    add(cylinder070_2.part, mode=Mode.SUBTRACT)


with BuildPart() as cabeza:
    # Box067 → Box067 (new body)
    with BuildSketch(Plane(origin=(4, 4, 9), x_dir=(1, 0, 0), z_dir=(0, 0, 1))):
        with Locations((7.5, 2.5)):
            Rectangle(BOX067_W, BOX067_H)
    extrude(amount=BOX067_DEPTH)

    # Fusion021: union Cut079
    add(cut079_1.part)

    # Cut080: cut Cylinder069
    add(cylinder069_2.part, mode=Mode.SUBTRACT)

    # Cut081: cut Cube067
    add(cube067_2.part, mode=Mode.SUBTRACT)

    # Cut082: cut Cylinder071
    add(cylinder071_2.part, mode=Mode.SUBTRACT)

    # Cut083: cut Cylinder072
    add(cylinder072_2.part, mode=Mode.SUBTRACT)

    # Fusion022: union Cut084, Cube071
    add(cut084.part)
    add(cube071.part)


solid = cabeza.part
